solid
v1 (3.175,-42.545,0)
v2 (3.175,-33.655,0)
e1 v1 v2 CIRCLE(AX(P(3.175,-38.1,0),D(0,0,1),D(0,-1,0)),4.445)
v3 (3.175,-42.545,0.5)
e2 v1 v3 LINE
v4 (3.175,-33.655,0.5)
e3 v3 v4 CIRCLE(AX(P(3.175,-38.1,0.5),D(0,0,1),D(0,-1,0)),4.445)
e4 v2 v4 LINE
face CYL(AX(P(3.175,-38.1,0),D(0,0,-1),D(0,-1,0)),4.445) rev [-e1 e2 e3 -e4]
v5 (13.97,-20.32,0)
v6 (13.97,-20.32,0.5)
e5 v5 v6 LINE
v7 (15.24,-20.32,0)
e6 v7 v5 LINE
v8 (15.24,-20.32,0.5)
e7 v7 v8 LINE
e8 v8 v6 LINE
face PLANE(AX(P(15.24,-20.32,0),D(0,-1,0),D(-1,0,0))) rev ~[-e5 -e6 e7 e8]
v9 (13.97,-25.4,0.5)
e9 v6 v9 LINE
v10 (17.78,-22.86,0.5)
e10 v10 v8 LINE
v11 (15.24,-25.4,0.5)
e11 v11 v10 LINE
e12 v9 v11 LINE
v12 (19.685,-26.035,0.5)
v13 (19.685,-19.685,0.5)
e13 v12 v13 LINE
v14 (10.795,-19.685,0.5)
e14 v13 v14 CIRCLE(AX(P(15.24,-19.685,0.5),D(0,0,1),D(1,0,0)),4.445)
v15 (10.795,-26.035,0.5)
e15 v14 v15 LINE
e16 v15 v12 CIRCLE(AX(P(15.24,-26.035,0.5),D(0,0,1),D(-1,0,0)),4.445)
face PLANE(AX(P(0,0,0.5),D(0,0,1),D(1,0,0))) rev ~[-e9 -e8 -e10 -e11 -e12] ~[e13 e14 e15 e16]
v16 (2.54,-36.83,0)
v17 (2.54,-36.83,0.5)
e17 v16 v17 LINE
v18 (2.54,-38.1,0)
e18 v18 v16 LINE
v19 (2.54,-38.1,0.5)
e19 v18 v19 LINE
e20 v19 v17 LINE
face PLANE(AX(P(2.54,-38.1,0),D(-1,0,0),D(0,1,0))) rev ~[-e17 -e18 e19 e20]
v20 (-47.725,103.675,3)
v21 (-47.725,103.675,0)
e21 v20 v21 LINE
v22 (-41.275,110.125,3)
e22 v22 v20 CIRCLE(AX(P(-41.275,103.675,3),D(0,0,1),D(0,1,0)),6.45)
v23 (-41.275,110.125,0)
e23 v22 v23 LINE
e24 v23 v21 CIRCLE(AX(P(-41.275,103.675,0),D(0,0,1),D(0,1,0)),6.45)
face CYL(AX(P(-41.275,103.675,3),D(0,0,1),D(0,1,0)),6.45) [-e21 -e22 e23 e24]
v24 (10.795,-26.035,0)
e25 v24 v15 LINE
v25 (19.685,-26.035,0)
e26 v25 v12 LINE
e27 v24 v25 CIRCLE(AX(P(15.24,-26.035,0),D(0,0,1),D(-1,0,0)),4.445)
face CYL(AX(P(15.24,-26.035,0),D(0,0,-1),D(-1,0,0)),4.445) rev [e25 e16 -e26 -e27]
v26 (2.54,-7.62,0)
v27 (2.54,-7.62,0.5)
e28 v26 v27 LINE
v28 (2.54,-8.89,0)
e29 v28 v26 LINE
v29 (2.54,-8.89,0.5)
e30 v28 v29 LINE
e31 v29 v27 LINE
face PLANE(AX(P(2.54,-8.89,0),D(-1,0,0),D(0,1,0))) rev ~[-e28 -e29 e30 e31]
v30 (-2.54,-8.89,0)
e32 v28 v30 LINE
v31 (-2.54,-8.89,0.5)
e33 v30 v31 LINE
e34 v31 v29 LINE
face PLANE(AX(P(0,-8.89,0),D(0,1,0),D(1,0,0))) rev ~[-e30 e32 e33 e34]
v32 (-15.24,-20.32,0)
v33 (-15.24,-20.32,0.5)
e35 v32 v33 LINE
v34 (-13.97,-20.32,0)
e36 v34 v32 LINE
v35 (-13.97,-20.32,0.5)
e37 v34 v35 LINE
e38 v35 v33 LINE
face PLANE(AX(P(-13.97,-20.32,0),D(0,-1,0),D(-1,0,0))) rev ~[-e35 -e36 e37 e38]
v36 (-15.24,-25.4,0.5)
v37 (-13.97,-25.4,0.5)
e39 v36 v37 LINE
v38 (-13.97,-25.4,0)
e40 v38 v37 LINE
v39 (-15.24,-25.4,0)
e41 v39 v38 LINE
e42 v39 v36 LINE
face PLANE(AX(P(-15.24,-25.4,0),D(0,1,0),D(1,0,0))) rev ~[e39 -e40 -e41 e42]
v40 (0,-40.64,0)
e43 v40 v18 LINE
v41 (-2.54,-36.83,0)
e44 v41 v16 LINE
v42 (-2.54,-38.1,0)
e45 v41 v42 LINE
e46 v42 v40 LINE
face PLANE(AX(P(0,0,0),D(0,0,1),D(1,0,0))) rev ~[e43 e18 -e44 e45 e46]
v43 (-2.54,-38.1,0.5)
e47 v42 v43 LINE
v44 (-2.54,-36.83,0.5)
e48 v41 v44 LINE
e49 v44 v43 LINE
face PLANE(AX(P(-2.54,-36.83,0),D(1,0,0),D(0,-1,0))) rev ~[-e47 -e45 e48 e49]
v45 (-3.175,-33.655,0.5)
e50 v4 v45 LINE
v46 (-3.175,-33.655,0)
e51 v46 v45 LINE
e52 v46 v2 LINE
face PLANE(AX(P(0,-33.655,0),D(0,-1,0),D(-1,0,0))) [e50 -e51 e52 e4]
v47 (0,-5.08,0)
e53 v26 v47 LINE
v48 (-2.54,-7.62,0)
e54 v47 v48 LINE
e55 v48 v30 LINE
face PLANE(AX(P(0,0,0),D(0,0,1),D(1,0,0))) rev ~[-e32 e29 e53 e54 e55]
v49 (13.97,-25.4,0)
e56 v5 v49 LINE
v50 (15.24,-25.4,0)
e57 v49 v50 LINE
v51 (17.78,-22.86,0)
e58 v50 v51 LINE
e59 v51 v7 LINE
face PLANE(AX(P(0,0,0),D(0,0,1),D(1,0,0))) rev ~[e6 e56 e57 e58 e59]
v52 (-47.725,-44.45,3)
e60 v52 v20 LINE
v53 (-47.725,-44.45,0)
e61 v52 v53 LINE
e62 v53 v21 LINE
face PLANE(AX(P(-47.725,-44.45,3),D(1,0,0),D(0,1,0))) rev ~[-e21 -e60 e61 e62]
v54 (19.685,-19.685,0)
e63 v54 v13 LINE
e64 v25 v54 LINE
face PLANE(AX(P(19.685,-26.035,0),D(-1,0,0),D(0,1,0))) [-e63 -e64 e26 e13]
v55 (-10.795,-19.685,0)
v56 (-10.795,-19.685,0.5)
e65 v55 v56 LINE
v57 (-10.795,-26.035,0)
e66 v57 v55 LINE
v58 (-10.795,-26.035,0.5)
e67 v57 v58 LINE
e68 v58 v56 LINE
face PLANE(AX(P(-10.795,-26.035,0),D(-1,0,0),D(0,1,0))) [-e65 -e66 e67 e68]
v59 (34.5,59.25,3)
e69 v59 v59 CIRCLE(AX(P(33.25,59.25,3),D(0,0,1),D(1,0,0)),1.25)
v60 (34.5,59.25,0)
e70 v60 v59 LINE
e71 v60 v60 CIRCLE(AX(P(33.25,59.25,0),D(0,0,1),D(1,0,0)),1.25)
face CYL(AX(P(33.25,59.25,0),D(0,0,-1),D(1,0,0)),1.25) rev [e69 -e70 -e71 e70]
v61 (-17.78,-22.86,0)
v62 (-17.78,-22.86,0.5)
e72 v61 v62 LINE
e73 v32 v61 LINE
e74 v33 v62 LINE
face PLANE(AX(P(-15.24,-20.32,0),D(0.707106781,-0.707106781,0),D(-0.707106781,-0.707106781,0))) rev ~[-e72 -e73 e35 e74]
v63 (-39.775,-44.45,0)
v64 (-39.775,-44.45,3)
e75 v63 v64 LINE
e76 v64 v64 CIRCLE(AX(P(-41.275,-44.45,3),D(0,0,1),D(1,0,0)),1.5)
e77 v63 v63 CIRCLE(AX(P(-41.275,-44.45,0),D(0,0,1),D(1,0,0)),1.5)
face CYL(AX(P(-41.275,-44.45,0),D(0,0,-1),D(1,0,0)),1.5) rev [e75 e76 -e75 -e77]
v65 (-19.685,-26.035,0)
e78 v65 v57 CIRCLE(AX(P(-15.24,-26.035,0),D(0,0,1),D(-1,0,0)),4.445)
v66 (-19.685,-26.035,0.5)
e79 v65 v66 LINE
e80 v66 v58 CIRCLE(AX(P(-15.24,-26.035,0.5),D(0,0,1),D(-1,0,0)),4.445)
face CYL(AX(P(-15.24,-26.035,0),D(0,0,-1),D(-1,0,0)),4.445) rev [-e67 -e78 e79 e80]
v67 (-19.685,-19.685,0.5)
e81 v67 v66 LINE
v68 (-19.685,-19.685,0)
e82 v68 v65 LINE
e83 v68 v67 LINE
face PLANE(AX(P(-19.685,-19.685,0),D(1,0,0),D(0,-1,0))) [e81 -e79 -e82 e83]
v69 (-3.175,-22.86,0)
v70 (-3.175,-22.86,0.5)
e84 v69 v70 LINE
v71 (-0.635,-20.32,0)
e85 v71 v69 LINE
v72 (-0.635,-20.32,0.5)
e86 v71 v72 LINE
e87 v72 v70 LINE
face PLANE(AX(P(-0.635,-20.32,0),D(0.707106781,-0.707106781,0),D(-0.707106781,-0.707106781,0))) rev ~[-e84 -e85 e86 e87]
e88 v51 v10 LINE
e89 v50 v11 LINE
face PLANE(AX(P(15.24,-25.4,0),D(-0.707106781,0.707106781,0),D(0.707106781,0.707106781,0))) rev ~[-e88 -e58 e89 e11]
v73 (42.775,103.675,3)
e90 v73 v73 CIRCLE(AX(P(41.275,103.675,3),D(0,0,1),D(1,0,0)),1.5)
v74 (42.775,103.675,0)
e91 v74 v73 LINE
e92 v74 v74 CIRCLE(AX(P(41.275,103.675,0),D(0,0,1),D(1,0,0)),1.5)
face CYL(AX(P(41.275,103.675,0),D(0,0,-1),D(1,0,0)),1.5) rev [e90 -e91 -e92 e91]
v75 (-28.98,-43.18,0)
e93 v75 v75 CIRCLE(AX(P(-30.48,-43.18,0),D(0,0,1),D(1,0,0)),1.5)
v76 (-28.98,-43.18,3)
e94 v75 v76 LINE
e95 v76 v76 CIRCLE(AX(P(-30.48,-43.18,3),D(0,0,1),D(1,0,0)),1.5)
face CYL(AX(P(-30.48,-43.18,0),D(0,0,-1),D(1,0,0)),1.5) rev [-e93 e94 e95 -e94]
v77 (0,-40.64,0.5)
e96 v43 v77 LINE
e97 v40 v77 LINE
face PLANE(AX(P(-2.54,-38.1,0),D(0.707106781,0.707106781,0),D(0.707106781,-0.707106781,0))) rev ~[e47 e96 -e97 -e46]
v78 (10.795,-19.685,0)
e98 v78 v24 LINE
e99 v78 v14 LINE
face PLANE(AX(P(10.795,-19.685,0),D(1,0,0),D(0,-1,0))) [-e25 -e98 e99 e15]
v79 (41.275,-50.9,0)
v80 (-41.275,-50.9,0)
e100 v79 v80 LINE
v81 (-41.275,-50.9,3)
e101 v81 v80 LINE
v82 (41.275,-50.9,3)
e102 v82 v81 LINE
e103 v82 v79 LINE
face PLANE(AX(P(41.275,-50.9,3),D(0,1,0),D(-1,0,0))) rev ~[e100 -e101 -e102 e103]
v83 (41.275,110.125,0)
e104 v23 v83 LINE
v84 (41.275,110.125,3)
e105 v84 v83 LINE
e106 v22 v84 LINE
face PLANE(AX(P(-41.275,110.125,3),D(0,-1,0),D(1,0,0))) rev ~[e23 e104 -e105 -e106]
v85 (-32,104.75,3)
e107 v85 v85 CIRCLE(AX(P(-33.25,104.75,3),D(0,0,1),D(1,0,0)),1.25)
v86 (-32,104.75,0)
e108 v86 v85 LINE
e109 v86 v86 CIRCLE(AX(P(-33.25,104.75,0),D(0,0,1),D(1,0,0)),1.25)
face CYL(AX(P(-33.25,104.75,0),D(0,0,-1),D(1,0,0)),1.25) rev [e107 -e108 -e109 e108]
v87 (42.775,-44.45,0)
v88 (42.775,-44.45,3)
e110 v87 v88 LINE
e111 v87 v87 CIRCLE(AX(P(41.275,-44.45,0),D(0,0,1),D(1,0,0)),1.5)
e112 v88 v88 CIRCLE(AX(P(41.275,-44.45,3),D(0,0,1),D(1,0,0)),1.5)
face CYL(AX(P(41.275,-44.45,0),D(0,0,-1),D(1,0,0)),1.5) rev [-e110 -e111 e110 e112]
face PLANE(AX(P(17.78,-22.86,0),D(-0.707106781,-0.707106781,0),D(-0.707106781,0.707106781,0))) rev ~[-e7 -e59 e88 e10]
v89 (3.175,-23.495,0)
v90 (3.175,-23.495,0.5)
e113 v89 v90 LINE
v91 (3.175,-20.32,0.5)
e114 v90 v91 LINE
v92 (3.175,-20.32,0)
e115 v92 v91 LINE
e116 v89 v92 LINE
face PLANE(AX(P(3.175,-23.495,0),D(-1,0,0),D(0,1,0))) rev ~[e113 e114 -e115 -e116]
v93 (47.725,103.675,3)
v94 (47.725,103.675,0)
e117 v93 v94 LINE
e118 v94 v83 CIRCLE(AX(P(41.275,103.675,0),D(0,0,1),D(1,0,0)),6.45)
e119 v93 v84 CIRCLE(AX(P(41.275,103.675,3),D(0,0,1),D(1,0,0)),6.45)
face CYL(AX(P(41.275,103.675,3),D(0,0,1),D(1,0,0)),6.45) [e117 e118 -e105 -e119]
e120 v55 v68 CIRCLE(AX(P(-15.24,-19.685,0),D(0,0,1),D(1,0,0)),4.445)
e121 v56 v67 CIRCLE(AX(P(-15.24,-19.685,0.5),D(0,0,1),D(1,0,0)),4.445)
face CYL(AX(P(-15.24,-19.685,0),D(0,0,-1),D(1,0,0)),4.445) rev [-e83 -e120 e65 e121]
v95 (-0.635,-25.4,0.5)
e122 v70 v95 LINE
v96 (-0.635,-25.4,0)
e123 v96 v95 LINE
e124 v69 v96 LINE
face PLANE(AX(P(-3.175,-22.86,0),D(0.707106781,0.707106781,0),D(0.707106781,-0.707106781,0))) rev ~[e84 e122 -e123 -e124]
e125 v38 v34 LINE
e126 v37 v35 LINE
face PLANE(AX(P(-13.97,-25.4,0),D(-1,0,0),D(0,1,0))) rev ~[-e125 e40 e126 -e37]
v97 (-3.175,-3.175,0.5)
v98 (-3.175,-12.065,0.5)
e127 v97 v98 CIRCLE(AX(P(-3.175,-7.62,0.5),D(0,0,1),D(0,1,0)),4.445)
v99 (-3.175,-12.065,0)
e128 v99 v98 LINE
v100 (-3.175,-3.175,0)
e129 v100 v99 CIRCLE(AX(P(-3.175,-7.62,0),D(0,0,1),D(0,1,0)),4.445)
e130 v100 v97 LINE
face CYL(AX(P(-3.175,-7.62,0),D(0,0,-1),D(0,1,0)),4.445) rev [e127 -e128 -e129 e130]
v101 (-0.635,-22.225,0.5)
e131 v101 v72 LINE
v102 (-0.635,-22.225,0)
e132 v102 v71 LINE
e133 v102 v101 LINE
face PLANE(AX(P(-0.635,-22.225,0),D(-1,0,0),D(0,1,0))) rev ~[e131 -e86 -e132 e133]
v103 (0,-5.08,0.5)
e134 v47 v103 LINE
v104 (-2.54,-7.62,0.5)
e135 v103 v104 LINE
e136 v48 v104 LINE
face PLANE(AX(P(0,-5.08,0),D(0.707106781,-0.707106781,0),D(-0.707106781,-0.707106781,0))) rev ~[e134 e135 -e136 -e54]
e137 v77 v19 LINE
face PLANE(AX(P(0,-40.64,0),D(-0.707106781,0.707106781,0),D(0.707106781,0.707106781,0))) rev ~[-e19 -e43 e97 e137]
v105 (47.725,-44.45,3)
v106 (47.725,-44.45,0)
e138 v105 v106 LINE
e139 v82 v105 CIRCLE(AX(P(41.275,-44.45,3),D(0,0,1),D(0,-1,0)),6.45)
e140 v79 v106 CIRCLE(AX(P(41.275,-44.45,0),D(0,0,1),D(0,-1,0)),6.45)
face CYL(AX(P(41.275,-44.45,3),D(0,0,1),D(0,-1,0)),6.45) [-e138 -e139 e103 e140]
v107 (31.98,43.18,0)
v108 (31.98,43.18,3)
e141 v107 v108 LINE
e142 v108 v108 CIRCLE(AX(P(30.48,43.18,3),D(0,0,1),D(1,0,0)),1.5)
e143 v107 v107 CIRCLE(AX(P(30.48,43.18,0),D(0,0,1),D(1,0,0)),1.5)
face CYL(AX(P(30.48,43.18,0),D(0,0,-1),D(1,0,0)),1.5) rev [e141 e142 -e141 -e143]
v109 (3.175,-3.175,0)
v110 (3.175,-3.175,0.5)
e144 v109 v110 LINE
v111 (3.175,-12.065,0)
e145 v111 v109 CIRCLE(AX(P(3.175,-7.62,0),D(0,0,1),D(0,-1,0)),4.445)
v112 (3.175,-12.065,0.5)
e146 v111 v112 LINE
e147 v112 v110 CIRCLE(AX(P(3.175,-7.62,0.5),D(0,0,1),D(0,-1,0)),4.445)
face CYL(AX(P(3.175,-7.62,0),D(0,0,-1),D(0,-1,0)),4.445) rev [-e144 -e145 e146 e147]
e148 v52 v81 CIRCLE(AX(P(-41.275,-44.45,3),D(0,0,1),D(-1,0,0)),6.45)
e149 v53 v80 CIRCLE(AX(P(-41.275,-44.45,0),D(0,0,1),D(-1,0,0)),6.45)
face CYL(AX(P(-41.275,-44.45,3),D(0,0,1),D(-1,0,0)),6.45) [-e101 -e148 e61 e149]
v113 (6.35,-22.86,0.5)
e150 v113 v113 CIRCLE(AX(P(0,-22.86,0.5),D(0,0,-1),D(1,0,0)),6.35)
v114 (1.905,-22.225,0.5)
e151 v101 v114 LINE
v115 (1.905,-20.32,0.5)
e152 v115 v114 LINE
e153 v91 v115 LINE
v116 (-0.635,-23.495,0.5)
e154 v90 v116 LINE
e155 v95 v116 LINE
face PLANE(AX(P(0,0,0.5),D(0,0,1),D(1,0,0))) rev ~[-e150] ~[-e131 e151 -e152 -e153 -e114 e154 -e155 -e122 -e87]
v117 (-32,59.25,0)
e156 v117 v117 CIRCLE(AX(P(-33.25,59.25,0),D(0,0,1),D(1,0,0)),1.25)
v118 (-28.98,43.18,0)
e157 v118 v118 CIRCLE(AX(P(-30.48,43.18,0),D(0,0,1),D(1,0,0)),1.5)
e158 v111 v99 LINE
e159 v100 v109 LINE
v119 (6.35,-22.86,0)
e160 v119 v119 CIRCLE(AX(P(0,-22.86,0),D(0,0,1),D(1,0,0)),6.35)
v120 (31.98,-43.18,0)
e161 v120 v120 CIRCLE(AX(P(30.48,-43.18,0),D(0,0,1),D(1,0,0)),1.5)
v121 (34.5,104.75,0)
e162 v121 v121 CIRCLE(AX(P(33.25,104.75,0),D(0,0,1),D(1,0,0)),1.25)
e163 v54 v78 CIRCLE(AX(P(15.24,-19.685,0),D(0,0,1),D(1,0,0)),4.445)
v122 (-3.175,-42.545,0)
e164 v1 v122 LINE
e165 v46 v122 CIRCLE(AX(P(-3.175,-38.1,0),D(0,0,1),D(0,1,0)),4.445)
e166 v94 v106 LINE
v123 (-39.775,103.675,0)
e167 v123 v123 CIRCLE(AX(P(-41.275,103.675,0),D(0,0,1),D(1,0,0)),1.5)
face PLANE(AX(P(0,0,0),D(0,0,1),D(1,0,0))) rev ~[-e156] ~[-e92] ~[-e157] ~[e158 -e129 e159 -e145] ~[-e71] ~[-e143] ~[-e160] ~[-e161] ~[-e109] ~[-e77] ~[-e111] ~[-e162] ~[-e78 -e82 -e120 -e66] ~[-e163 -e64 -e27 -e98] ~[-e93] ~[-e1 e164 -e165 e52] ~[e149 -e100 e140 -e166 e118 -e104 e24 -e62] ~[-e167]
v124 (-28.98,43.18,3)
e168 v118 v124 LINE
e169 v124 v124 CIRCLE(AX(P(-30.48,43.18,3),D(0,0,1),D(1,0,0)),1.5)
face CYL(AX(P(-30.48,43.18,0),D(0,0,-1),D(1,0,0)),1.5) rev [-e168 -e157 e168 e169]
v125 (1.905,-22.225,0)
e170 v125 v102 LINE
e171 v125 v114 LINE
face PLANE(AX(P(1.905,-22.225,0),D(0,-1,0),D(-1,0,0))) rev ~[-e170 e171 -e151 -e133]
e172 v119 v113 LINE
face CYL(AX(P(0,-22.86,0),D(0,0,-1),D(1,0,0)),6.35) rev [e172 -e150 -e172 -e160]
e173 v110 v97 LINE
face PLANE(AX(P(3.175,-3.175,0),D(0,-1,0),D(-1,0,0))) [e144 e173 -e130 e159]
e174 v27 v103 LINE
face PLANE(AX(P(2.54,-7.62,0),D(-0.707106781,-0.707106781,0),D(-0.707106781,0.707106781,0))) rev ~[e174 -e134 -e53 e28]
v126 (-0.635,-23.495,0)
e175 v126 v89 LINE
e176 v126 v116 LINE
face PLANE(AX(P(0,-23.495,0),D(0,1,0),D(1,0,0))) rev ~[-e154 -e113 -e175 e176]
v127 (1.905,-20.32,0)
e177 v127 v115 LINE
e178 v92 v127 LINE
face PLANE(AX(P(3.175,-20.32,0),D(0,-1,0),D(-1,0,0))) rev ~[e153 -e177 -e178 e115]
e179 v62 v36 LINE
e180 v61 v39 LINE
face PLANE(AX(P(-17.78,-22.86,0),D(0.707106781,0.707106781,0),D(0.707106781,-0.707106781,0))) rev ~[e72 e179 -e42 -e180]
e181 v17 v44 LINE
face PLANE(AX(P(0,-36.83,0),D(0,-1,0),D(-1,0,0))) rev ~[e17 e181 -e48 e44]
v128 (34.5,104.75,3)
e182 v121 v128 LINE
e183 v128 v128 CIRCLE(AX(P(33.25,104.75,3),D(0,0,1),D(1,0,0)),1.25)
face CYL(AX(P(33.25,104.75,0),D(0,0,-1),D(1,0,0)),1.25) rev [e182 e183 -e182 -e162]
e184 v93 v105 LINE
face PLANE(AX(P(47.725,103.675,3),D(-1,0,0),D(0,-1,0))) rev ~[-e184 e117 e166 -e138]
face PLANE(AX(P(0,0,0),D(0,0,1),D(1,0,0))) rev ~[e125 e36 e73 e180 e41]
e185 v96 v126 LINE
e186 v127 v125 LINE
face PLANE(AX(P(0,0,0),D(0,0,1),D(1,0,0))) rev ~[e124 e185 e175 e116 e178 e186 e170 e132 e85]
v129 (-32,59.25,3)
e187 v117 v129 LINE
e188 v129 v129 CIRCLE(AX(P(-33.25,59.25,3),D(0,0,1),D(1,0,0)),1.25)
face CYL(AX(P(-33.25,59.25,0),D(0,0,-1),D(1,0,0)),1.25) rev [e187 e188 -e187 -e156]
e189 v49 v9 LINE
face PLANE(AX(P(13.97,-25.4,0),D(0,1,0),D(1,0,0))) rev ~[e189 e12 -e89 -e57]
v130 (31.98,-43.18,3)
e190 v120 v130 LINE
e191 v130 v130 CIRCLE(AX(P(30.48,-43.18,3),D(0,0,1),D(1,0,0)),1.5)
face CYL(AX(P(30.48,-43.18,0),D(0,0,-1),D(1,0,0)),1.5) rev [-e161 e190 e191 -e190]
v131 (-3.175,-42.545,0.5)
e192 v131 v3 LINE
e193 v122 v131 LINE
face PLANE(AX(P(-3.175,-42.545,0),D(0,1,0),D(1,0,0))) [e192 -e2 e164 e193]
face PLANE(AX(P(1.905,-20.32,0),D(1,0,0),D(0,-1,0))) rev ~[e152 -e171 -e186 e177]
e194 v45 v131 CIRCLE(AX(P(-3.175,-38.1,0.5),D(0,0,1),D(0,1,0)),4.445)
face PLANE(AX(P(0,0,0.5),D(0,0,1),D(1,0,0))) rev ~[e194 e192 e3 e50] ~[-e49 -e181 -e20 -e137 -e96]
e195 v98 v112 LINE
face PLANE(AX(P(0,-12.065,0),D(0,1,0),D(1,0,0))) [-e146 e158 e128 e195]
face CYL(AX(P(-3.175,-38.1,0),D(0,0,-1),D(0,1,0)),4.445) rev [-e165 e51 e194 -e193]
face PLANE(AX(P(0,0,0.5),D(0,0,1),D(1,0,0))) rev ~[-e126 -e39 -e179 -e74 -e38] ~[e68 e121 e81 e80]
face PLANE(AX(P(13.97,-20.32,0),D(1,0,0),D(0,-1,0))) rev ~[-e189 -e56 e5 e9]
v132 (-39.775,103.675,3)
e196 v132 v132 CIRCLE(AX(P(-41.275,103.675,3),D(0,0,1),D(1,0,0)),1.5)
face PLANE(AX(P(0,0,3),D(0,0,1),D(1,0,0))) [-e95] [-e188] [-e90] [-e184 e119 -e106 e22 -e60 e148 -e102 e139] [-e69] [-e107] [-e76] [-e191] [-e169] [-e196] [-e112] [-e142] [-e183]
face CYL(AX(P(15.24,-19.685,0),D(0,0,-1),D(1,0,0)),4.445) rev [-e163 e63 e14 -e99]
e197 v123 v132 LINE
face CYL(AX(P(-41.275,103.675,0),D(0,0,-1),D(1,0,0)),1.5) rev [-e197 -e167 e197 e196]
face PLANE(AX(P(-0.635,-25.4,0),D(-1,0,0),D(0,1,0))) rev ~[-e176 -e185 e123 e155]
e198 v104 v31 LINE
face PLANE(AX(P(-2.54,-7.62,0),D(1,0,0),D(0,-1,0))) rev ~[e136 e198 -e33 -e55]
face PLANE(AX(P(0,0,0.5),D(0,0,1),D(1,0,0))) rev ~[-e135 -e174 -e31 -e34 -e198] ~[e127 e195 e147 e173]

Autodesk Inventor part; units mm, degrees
ref_plane "YZ Plane" through (0, 0, 0) normal (1, 0, 0) x (0, 1, 0)
ref_plane "XZ Plane" through (0, 0, 0) normal (0, 1, 0) x (-1, 0, 0)
ref_plane "XY Plane" through (0, 0, 0) normal (0, 0, 1) x (1, 0, 0)
sketch "Sketch1" plane through (0, 0, 0) normal (0, 0, 1) x (1, 0, 0)
  line L0 (30.48, -47.625) -> (-30.48, -47.625) construction
  line L1 (-34.925, -43.18) -> (-34.925, 43.18) construction
  line L2 (-30.48, 47.625) -> (30.48, 47.625) construction
  line L3 (34.925, 43.18) -> (34.925, -43.18) construction
  line L4 (34.925, -47.625) -> (-34.925, 47.625) construction
  line L5 (-34.925, -47.625) -> (34.925, 47.625) construction
  arc A0 (-30.48, 47.625) -> (-34.925, 43.18) centre (-30.48, 43.18) ccw construction
  arc A1 (34.925, 43.18) -> (30.48, 47.625) centre (30.48, 43.18) ccw construction
  arc A2 (30.48, -47.625) -> (34.925, -43.18) centre (30.48, -43.18) ccw construction
  arc A3 (-34.925, -43.18) -> (-30.48, -47.625) centre (-30.48, -43.18) ccw construction
  circle A4 centre (-30.48, 43.18) radius 1.5
  circle A5 centre (30.48, 43.18) radius 1.5
  circle A6 centre (-30.48, -43.18) radius 1.5
  circle A7 centre (30.48, -43.18) radius 1.5
  circle A8 centre (0, -22.86) radius 6.35
  line L6 (-3.175, -7.62) -> (3.175, -7.62) construction
  line L7 (-3.175, -12.065) -> (3.175, -12.065)
  line L8 (3.175, -3.175) -> (-3.175, -3.175)
  arc A9 (-3.175, -3.175) -> (-3.175, -12.065) centre (-3.175, -7.62) ccw
  arc A10 (3.175, -12.065) -> (3.175, -3.175) centre (3.175, -7.62) ccw
  line L9 (-35.3, 57.15) -> (35.3, 57.15) construction
  line L10 (35.3, 57.15) -> (35.3, 106.85) construction
  line L11 (35.3, 106.85) -> (-35.3, 106.85) construction
  line L12 (-35.3, 106.85) -> (-35.3, 57.15) construction
  circle A11 centre (-33.25, 104.75) radius 1.25
  circle A12 centre (33.25, 104.75) radius 1.25
  circle A13 centre (33.25, 59.25) radius 1.25
  circle A14 centre (-33.25, 59.25) radius 1.25
  line L13 (-41.275, 110.025) -> (41.275, 110.025)
  line L14 (47.625, 103.675) -> (47.625, -44.45)
  line L15 (41.275, -50.8) -> (-41.275, -50.8)
  line L16 (-47.625, -44.45) -> (-47.625, 103.675)
  arc A15 (-41.275, 110.025) -> (-47.625, 103.675) centre (-41.275, 103.675) ccw
  arc A16 (47.625, 103.675) -> (41.275, 110.025) centre (41.275, 103.675) ccw
  arc A17 (41.275, -50.8) -> (47.625, -44.45) centre (41.275, -44.45) ccw
  arc A18 (-47.625, -44.45) -> (-41.275, -50.8) centre (-41.275, -44.45) ccw
  circle A19 centre (-41.275, 103.675) radius 1.5
  circle A20 centre (-41.275, -44.45) radius 1.5
  circle A21 centre (41.275, -44.45) radius 1.5
  circle A22 centre (41.275, 103.675) radius 1.5
  line L17 (-0.635, -22.225) -> (-0.635, -20.32)
  line L18 (-0.635, -20.32) -> (-3.175, -22.86)
  line L19 (-3.175, -22.86) -> (-0.635, -25.4)
  line L20 (-0.635, -25.4) -> (-0.635, -23.495)
  line L21 (-0.635, -23.495) -> (3.175, -23.495)
  line L22 (3.175, -23.495) -> (3.175, -20.32)
  line L23 (3.175, -20.32) -> (1.905, -20.32)
  line L24 (1.905, -20.32) -> (1.905, -22.225)
  line L25 (1.905, -22.225) -> (-0.635, -22.225)
  line L26 (-2.54, -8.89) -> (2.54, -8.89)
  line L27 (2.54, -8.89) -> (2.54, -7.62)
  line L28 (2.54, -7.62) -> (0, -5.08)
  line L29 (0, -5.08) -> (-2.54, -7.62)
  line L30 (-2.54, -7.62) -> (-2.54, -8.89)
  arc A23 (-19.685, -26.035) -> (-10.795, -26.035) centre (-15.24, -26.035) ccw
  line L31 (-19.685, -19.685) -> (-19.685, -26.035)
  arc A24 (-10.795, -19.685) -> (-19.685, -19.685) centre (-15.24, -19.685) ccw
  line L32 (-10.795, -26.035) -> (-10.795, -19.685)
  line L33 (-13.97, -25.4) -> (-13.97, -20.32)
  line L34 (-13.97, -20.32) -> (-15.24, -20.32)
  line L35 (-15.24, -20.32) -> (-17.78, -22.86)
  line L36 (-17.78, -22.86) -> (-15.24, -25.4)
  line L37 (-15.24, -25.4) -> (-13.97, -25.4)
  arc A25 (3.175, -42.545) -> (3.175, -33.655) centre (3.175, -38.1) ccw
  line L38 (-3.175, -42.545) -> (3.175, -42.545)
  arc A26 (-3.175, -33.655) -> (-3.175, -42.545) centre (-3.175, -38.1) ccw
  line L39 (3.175, -33.655) -> (-3.175, -33.655)
  line L40 (2.54, -36.83) -> (-2.54, -36.83)
  line L41 (-2.54, -36.83) -> (-2.54, -38.1)
  line L42 (-2.54, -38.1) -> (0, -40.64)
  line L43 (0, -40.64) -> (2.54, -38.1)
  line L44 (2.54, -38.1) -> (2.54, -36.83)
  arc A27 (19.685, -19.685) -> (10.795, -19.685) centre (15.24, -19.685) ccw
  line L45 (19.685, -26.035) -> (19.685, -19.685)
  arc A28 (10.795, -26.035) -> (19.685, -26.035) centre (15.24, -26.035) ccw
  line L46 (10.795, -19.685) -> (10.795, -26.035)
  line L47 (13.97, -20.32) -> (13.97, -25.4)
  line L48 (13.97, -25.4) -> (15.24, -25.4)
  line L49 (15.24, -25.4) -> (17.78, -22.86)
  line L50 (17.78, -22.86) -> (15.24, -20.32)
  line L51 (15.24, -20.32) -> (13.97, -20.32)
  line L52 (5.205, 21.035) -> (16.385, 21.035) construction
  line L53 (16.385, 21.035) -> (16.385, 36.115) construction
  line L54 (16.385, 36.115) -> (5.205, 36.115) construction
  line L55 (5.205, 36.115) -> (5.205, 21.035) construction
  line L56 (5.205, 21.035) -> (16.385, 36.115) construction
  line L57 (16.385, 21.035) -> (5.205, 36.115) construction
  line L58 (20.265, 22.71) -> (29.265, 22.71) construction
  line L59 (29.265, 22.71) -> (29.265, 33.61) construction
  line L60 (29.265, 33.61) -> (20.265, 33.61) construction
  line L61 (20.265, 33.61) -> (20.265, 22.71) construction
  line L62 (-7.495, 36.115) -> (-7.495, 21.035) construction
  line L63 (3.685, 36.115) -> (-7.495, 36.115) construction
  line L64 (3.685, 21.035) -> (3.685, 36.115) construction
  line L65 (-7.495, 21.035) -> (3.685, 21.035) construction
  line L66 (-20.195, 36.115) -> (-20.195, 21.035) construction
  line L67 (-9.015, 36.115) -> (-20.195, 36.115) construction
  line L68 (-9.015, 21.035) -> (-9.015, 36.115) construction
  line L69 (-20.195, 21.035) -> (-9.015, 21.035) construction
  line L70 (-32.895, 36.115) -> (-32.895, 21.035) construction
  line L71 (-21.715, 36.115) -> (-32.895, 36.115) construction
  line L72 (-21.715, 21.035) -> (-21.715, 36.115) construction
  line L73 (-32.895, 21.035) -> (-21.715, 21.035) construction
  line L74 (-33.657, 37.385) -> (17.147, 37.385)
  line L75 (17.655, 36.877) -> (17.655, 35.388)
  line L76 (18.163, 34.88) -> (30.027, 34.88)
  line L77 (30.535, 34.372) -> (30.535, 21.948)
  line L78 (30.027, 21.44) -> (18.163, 21.44)
  line L79 (17.655, 20.932) -> (17.655, 20.273)
  line L80 (17.147, 19.765) -> (-33.657, 19.765)
  line L81 (-34.165, 20.273) -> (-34.165, 36.877)
  arc A29 (-33.657, 37.385) -> (-34.165, 36.877) centre (-33.657, 36.877) ccw
  arc A30 (17.655, 36.877) -> (17.147, 37.385) centre (17.147, 36.877) ccw
  arc A31 (17.655, 35.388) -> (18.163, 34.88) centre (18.163, 35.388) ccw
  arc A32 (30.535, 34.372) -> (30.027, 34.88) centre (30.027, 34.372) ccw
  arc A33 (30.027, 21.44) -> (30.535, 21.948) centre (30.027, 21.948) ccw
  arc A34 (18.163, 21.44) -> (17.655, 20.932) centre (18.163, 20.932) ccw
  arc A35 (17.147, 19.765) -> (17.655, 20.273) centre (17.147, 20.273) ccw
  arc A36 (-34.165, 20.273) -> (-33.657, 19.765) centre (-33.657, 20.273) ccw
  line L82 (-41.1, 50.8) -> (-38.1, 50.8)
  line L83 (-38.1, 50.8) -> (-38.1, 31.75)
  line L84 (-38.1, -38.1) -> (-41.1, -38.1)
  line L85 (-41.1, -38.1) -> (-41.1, -19.05)
  line L86 (-41.1, 31.75) -> (-38.1, 31.75)
  line L87 (-41.1, -19.05) -> (-38.1, -19.05)
  line L88 (-41.1, 31.75) -> (-41.1, 50.8)
  line L89 (-41.1, -19.05) -> (-41.1, 31.75) construction
  line L90 (-38.1, -19.05) -> (-38.1, -38.1)
  line L91 (-38.1, 31.75) -> (-38.1, -19.05) construction
  circle A37 centre (-39.6, 6.35) radius 1.5
  line L92 (0, -68.4111) -> (0, 116.4523)
  line L93 (41.1, 50.8) -> (38.1, 50.8)
  line L94 (38.1, 50.8) -> (38.1, 31.75)
  line L95 (38.1, -38.1) -> (41.1, -38.1)
  line L96 (41.1, -38.1) -> (41.1, -19.05)
  line L97 (41.1, 31.75) -> (38.1, 31.75)
  line L98 (41.1, -19.05) -> (38.1, -19.05)
  line L99 (41.1, 31.75) -> (41.1, 50.8)
  line L100 (38.1, -19.05) -> (38.1, -38.1)
  circle A38 centre (39.6, 6.35) radius 1.5
  point P0 (0, 0)
  point P1 (0, 0)
  point P2 (0, -7.62)
  point P3 (0, 57.15)
  point P4 (0, 0)
  point P5 (35.3, 82)
  point P6 (0, -8.89)
  point P7 (-13.97, -22.86)
  point P8 (0, -36.83)
  point P9 (13.97, -22.86)
  point P10 (10.795, 28.575)
  point P11 (24.765, 29.21)
  point P12 (24.765, 33.61)
  point P13 (-38.1, 6.35)
  point P14 (-39.6, 50.8)
  dimension "d0" = 69.85
  dimension "d1" = 95.25
  dimension "d2" = 4.445
  dimension "d3" = 3
  dimension "d4" = 24.765
  dimension "d5" = 12.7
  dimension "d6" = 6.35
  dimension "d7" = 8.89
  dimension "d8" = 15.24
  dimension "d9" = 70.6
  dimension "d10" = 49.7
  dimension "d11" = 9.525
  dimension "d12" = 66.5
  dimension "d13" = 33.25
  dimension "d14" = 45.5
  dimension "d15" = 22.75
  dimension "d16" = 2.5
  dimension "d17" = 3.175
  dimension "d18" = 12.7
  dimension "d19" = 3.175
  dimension "d20" = 12.7
  dimension "d21" = 6.35
  dimension "d22" = 3
  dimension "d25" = 1.27
  dimension "d26" = 1.27
  dimension "d27" = 0.635
  dimension "d28" = 0.635
  dimension "d29" = 5.08
  dimension "d30" = 2.54
  dimension "d31" = 3.81
  dimension "d32" = 3.175
  dimension "d33" = 5.08
  dimension "d34" = 1.27
  dimension "d35" = 2.54
  dimension "d38" = 360
  dimension "d42" = 11.18
  dimension "d43" = 15.08
  dimension "d44" = 19.05
  dimension "d45" = 24.13
  dimension "d54" = 6.5
  dimension "d55" = 10.9
  dimension "d56" = 9
  dimension "d57" = 10.16
  dimension "d58" = 18.415
  dimension "d61" = 12.7
  dimension "d66" = 1.27
  dimension "d67" = 1.27
  dimension "d68" = 1.27
  dimension "d69" = 1.27
  dimension "d70" = 1.27
  dimension "d71" = 1.27
  dimension "d72" = 1.27
  dimension "d73" = 0.508
  dimension "d74" = 3
  dimension "d76" = 12.7
  dimension "d77" = 88.9
  dimension "d78" = 19.05
  dimension "d79" = 19.05
  dimension "d80" = 3
  dimension "d81" = 76.2
extrude "Extrusion1" add sketch "Sketch1" along normal blind 3 contours A8 L92 L21 L22 L23 L24 L25 | A8 L92 L7 A10 L8 L80 A35 L79 A34 L78 A33 L77 A32 L76 A31 L75 A30 L74 L13 A16 L14 A17 L15 L38 A25 L39 | L92 L25 L17 L18 L19 L20 L21 A8 | A8 L92 L39 A26 L38 L15 A18 L16 A15 L13 L74 A29 L81 A36 L80 L8 A9 L7 | L92 L21 L20 L19 L18 L17 L25 | L25 L24 L23 L22 L21 L92 | L92 L26 L27 L28 L8 A10 L7 | L7 A9 L8 L92 L29 L30 L26 | L92 L40 L41 L42 L38 A26 L39 | L39 A25 L38 L92 L43 L44 L40 | L92 L28 L27 L26 | L26 L30 L29 L92 | L92 L42 L41 L40 | L40 L44 L43 L92 | L92 L74 A30 L75 A31 L76 A32 L77 A33 L78 A34 L79 A35 L80 | L80 A36 L81 A29 L74 L92 | L31 A24 L32 A23 | L37 L36 L35 L34 L33 | L45 A28 L46 A27 | L51 L50 L49 L48 L47 | L82 L83 L86 L88 | L84 L85 L87 L90 | A37 | L99 L97 L94 L93 | L100 L98 L96 L95 | A38
extrude "Extrusion2" cut sketch "Sketch1" along normal blind 0.5 contours A8 L92 L21 L22 L23 L24 L25 | L92 L25 L17 L18 L19 L20 L21 A8 | L92 L26 L27 L28 L8 A10 L7 | L7 A9 L8 L92 L29 L30 L26 | L92 L40 L41 L42 L38 A26 L39 | L39 A25 L38 L92 L43 L44 L40 | L31 A24 L32 A23 | L45 A28 L46 A27
sketch "Sketch2" plane through (0, 0, 3) normal (0, 0, 1) x (1, 0, 0)
  circle A0 centre (41.275, 103.675) radius 1.5 projected
  circle A1 centre (41.275, -44.45) radius 1.5 projected
  circle A2 centre (-41.275, -44.45) radius 1.5 projected
  circle A3 centre (-41.275, 103.675) radius 1.5 projected
  circle A4 centre (30.48, -43.18) radius 1.5 projected
  circle A5 centre (-30.48, -43.18) radius 1.5 projected
  circle A6 centre (30.48, 43.18) radius 1.5 projected
  circle A7 centre (-30.48, 43.18) radius 1.5 projected
  circle A8 centre (-33.25, 59.25) radius 1.25 projected
  circle A9 centre (33.25, 59.25) radius 1.25 projected
  circle A10 centre (33.25, 104.75) radius 1.25 projected
  circle A11 centre (-33.25, 104.75) radius 1.25 projected
  line L0 (41.275, 110.025) -> (-41.275, 110.025) projected
  arc A12 (-41.275, 110.025) -> (-47.625, 103.675) centre (-41.275, 103.675) ccw projected
  line L1 (-47.625, 103.675) -> (-47.625, -44.45) projected
  arc A13 (-47.625, -44.45) -> (-41.275, -50.8) centre (-41.275, -44.45) ccw projected
  line L2 (-41.275, -50.8) -> (41.275, -50.8) projected
  arc A14 (41.275, -50.8) -> (47.625, -44.45) centre (41.275, -44.45) ccw projected
  line L3 (47.625, -44.45) -> (47.625, 103.675) projected
  arc A15 (47.625, 103.675) -> (41.275, 110.025) centre (41.275, 103.675) ccw projected
  line L4 (-41.275, 110.125) -> (41.275, 110.125)
  arc A16 (47.725, 103.675) -> (41.275, 110.125) centre (41.275, 103.675) ccw
  line L5 (47.725, 103.675) -> (47.725, -44.45)
  arc A17 (41.275, -50.9) -> (47.725, -44.45) centre (41.275, -44.45) ccw
  line L6 (41.275, -50.9) -> (-41.275, -50.9)
  arc A18 (-47.725, -44.45) -> (-41.275, -50.9) centre (-41.275, -44.45) ccw
  line L7 (-47.725, -44.45) -> (-47.725, 103.675)
  arc A19 (-41.275, 110.125) -> (-47.725, 103.675) centre (-41.275, 103.675) ccw
  point P0 (0, 0)
  dimension "d82" = 0.1
extrude "Extrusion3" add sketch "Sketch2" against normal up to surface (3 mm away) contours L4 A16 L5 A17 L6 A18 L7 A19
equation "\"d13\" = 0.5 * d12"
equation "\"d15\" = 0.5 * d14"
equation "\"d19\" = d17"
equation "\"d20\" = d18"
equation "\"d28\" = 0.5 * d26"
equation "\"d67\" = d66"
equation "\"d68\" = d66"
equation "\"d69\" = d66"
equation "\"d70\" = d66"
equation "\"d71\" = d66"
equation "\"d72\" = d66"
equation "\"d78\" = d79"
properties part number "FrontCover"
